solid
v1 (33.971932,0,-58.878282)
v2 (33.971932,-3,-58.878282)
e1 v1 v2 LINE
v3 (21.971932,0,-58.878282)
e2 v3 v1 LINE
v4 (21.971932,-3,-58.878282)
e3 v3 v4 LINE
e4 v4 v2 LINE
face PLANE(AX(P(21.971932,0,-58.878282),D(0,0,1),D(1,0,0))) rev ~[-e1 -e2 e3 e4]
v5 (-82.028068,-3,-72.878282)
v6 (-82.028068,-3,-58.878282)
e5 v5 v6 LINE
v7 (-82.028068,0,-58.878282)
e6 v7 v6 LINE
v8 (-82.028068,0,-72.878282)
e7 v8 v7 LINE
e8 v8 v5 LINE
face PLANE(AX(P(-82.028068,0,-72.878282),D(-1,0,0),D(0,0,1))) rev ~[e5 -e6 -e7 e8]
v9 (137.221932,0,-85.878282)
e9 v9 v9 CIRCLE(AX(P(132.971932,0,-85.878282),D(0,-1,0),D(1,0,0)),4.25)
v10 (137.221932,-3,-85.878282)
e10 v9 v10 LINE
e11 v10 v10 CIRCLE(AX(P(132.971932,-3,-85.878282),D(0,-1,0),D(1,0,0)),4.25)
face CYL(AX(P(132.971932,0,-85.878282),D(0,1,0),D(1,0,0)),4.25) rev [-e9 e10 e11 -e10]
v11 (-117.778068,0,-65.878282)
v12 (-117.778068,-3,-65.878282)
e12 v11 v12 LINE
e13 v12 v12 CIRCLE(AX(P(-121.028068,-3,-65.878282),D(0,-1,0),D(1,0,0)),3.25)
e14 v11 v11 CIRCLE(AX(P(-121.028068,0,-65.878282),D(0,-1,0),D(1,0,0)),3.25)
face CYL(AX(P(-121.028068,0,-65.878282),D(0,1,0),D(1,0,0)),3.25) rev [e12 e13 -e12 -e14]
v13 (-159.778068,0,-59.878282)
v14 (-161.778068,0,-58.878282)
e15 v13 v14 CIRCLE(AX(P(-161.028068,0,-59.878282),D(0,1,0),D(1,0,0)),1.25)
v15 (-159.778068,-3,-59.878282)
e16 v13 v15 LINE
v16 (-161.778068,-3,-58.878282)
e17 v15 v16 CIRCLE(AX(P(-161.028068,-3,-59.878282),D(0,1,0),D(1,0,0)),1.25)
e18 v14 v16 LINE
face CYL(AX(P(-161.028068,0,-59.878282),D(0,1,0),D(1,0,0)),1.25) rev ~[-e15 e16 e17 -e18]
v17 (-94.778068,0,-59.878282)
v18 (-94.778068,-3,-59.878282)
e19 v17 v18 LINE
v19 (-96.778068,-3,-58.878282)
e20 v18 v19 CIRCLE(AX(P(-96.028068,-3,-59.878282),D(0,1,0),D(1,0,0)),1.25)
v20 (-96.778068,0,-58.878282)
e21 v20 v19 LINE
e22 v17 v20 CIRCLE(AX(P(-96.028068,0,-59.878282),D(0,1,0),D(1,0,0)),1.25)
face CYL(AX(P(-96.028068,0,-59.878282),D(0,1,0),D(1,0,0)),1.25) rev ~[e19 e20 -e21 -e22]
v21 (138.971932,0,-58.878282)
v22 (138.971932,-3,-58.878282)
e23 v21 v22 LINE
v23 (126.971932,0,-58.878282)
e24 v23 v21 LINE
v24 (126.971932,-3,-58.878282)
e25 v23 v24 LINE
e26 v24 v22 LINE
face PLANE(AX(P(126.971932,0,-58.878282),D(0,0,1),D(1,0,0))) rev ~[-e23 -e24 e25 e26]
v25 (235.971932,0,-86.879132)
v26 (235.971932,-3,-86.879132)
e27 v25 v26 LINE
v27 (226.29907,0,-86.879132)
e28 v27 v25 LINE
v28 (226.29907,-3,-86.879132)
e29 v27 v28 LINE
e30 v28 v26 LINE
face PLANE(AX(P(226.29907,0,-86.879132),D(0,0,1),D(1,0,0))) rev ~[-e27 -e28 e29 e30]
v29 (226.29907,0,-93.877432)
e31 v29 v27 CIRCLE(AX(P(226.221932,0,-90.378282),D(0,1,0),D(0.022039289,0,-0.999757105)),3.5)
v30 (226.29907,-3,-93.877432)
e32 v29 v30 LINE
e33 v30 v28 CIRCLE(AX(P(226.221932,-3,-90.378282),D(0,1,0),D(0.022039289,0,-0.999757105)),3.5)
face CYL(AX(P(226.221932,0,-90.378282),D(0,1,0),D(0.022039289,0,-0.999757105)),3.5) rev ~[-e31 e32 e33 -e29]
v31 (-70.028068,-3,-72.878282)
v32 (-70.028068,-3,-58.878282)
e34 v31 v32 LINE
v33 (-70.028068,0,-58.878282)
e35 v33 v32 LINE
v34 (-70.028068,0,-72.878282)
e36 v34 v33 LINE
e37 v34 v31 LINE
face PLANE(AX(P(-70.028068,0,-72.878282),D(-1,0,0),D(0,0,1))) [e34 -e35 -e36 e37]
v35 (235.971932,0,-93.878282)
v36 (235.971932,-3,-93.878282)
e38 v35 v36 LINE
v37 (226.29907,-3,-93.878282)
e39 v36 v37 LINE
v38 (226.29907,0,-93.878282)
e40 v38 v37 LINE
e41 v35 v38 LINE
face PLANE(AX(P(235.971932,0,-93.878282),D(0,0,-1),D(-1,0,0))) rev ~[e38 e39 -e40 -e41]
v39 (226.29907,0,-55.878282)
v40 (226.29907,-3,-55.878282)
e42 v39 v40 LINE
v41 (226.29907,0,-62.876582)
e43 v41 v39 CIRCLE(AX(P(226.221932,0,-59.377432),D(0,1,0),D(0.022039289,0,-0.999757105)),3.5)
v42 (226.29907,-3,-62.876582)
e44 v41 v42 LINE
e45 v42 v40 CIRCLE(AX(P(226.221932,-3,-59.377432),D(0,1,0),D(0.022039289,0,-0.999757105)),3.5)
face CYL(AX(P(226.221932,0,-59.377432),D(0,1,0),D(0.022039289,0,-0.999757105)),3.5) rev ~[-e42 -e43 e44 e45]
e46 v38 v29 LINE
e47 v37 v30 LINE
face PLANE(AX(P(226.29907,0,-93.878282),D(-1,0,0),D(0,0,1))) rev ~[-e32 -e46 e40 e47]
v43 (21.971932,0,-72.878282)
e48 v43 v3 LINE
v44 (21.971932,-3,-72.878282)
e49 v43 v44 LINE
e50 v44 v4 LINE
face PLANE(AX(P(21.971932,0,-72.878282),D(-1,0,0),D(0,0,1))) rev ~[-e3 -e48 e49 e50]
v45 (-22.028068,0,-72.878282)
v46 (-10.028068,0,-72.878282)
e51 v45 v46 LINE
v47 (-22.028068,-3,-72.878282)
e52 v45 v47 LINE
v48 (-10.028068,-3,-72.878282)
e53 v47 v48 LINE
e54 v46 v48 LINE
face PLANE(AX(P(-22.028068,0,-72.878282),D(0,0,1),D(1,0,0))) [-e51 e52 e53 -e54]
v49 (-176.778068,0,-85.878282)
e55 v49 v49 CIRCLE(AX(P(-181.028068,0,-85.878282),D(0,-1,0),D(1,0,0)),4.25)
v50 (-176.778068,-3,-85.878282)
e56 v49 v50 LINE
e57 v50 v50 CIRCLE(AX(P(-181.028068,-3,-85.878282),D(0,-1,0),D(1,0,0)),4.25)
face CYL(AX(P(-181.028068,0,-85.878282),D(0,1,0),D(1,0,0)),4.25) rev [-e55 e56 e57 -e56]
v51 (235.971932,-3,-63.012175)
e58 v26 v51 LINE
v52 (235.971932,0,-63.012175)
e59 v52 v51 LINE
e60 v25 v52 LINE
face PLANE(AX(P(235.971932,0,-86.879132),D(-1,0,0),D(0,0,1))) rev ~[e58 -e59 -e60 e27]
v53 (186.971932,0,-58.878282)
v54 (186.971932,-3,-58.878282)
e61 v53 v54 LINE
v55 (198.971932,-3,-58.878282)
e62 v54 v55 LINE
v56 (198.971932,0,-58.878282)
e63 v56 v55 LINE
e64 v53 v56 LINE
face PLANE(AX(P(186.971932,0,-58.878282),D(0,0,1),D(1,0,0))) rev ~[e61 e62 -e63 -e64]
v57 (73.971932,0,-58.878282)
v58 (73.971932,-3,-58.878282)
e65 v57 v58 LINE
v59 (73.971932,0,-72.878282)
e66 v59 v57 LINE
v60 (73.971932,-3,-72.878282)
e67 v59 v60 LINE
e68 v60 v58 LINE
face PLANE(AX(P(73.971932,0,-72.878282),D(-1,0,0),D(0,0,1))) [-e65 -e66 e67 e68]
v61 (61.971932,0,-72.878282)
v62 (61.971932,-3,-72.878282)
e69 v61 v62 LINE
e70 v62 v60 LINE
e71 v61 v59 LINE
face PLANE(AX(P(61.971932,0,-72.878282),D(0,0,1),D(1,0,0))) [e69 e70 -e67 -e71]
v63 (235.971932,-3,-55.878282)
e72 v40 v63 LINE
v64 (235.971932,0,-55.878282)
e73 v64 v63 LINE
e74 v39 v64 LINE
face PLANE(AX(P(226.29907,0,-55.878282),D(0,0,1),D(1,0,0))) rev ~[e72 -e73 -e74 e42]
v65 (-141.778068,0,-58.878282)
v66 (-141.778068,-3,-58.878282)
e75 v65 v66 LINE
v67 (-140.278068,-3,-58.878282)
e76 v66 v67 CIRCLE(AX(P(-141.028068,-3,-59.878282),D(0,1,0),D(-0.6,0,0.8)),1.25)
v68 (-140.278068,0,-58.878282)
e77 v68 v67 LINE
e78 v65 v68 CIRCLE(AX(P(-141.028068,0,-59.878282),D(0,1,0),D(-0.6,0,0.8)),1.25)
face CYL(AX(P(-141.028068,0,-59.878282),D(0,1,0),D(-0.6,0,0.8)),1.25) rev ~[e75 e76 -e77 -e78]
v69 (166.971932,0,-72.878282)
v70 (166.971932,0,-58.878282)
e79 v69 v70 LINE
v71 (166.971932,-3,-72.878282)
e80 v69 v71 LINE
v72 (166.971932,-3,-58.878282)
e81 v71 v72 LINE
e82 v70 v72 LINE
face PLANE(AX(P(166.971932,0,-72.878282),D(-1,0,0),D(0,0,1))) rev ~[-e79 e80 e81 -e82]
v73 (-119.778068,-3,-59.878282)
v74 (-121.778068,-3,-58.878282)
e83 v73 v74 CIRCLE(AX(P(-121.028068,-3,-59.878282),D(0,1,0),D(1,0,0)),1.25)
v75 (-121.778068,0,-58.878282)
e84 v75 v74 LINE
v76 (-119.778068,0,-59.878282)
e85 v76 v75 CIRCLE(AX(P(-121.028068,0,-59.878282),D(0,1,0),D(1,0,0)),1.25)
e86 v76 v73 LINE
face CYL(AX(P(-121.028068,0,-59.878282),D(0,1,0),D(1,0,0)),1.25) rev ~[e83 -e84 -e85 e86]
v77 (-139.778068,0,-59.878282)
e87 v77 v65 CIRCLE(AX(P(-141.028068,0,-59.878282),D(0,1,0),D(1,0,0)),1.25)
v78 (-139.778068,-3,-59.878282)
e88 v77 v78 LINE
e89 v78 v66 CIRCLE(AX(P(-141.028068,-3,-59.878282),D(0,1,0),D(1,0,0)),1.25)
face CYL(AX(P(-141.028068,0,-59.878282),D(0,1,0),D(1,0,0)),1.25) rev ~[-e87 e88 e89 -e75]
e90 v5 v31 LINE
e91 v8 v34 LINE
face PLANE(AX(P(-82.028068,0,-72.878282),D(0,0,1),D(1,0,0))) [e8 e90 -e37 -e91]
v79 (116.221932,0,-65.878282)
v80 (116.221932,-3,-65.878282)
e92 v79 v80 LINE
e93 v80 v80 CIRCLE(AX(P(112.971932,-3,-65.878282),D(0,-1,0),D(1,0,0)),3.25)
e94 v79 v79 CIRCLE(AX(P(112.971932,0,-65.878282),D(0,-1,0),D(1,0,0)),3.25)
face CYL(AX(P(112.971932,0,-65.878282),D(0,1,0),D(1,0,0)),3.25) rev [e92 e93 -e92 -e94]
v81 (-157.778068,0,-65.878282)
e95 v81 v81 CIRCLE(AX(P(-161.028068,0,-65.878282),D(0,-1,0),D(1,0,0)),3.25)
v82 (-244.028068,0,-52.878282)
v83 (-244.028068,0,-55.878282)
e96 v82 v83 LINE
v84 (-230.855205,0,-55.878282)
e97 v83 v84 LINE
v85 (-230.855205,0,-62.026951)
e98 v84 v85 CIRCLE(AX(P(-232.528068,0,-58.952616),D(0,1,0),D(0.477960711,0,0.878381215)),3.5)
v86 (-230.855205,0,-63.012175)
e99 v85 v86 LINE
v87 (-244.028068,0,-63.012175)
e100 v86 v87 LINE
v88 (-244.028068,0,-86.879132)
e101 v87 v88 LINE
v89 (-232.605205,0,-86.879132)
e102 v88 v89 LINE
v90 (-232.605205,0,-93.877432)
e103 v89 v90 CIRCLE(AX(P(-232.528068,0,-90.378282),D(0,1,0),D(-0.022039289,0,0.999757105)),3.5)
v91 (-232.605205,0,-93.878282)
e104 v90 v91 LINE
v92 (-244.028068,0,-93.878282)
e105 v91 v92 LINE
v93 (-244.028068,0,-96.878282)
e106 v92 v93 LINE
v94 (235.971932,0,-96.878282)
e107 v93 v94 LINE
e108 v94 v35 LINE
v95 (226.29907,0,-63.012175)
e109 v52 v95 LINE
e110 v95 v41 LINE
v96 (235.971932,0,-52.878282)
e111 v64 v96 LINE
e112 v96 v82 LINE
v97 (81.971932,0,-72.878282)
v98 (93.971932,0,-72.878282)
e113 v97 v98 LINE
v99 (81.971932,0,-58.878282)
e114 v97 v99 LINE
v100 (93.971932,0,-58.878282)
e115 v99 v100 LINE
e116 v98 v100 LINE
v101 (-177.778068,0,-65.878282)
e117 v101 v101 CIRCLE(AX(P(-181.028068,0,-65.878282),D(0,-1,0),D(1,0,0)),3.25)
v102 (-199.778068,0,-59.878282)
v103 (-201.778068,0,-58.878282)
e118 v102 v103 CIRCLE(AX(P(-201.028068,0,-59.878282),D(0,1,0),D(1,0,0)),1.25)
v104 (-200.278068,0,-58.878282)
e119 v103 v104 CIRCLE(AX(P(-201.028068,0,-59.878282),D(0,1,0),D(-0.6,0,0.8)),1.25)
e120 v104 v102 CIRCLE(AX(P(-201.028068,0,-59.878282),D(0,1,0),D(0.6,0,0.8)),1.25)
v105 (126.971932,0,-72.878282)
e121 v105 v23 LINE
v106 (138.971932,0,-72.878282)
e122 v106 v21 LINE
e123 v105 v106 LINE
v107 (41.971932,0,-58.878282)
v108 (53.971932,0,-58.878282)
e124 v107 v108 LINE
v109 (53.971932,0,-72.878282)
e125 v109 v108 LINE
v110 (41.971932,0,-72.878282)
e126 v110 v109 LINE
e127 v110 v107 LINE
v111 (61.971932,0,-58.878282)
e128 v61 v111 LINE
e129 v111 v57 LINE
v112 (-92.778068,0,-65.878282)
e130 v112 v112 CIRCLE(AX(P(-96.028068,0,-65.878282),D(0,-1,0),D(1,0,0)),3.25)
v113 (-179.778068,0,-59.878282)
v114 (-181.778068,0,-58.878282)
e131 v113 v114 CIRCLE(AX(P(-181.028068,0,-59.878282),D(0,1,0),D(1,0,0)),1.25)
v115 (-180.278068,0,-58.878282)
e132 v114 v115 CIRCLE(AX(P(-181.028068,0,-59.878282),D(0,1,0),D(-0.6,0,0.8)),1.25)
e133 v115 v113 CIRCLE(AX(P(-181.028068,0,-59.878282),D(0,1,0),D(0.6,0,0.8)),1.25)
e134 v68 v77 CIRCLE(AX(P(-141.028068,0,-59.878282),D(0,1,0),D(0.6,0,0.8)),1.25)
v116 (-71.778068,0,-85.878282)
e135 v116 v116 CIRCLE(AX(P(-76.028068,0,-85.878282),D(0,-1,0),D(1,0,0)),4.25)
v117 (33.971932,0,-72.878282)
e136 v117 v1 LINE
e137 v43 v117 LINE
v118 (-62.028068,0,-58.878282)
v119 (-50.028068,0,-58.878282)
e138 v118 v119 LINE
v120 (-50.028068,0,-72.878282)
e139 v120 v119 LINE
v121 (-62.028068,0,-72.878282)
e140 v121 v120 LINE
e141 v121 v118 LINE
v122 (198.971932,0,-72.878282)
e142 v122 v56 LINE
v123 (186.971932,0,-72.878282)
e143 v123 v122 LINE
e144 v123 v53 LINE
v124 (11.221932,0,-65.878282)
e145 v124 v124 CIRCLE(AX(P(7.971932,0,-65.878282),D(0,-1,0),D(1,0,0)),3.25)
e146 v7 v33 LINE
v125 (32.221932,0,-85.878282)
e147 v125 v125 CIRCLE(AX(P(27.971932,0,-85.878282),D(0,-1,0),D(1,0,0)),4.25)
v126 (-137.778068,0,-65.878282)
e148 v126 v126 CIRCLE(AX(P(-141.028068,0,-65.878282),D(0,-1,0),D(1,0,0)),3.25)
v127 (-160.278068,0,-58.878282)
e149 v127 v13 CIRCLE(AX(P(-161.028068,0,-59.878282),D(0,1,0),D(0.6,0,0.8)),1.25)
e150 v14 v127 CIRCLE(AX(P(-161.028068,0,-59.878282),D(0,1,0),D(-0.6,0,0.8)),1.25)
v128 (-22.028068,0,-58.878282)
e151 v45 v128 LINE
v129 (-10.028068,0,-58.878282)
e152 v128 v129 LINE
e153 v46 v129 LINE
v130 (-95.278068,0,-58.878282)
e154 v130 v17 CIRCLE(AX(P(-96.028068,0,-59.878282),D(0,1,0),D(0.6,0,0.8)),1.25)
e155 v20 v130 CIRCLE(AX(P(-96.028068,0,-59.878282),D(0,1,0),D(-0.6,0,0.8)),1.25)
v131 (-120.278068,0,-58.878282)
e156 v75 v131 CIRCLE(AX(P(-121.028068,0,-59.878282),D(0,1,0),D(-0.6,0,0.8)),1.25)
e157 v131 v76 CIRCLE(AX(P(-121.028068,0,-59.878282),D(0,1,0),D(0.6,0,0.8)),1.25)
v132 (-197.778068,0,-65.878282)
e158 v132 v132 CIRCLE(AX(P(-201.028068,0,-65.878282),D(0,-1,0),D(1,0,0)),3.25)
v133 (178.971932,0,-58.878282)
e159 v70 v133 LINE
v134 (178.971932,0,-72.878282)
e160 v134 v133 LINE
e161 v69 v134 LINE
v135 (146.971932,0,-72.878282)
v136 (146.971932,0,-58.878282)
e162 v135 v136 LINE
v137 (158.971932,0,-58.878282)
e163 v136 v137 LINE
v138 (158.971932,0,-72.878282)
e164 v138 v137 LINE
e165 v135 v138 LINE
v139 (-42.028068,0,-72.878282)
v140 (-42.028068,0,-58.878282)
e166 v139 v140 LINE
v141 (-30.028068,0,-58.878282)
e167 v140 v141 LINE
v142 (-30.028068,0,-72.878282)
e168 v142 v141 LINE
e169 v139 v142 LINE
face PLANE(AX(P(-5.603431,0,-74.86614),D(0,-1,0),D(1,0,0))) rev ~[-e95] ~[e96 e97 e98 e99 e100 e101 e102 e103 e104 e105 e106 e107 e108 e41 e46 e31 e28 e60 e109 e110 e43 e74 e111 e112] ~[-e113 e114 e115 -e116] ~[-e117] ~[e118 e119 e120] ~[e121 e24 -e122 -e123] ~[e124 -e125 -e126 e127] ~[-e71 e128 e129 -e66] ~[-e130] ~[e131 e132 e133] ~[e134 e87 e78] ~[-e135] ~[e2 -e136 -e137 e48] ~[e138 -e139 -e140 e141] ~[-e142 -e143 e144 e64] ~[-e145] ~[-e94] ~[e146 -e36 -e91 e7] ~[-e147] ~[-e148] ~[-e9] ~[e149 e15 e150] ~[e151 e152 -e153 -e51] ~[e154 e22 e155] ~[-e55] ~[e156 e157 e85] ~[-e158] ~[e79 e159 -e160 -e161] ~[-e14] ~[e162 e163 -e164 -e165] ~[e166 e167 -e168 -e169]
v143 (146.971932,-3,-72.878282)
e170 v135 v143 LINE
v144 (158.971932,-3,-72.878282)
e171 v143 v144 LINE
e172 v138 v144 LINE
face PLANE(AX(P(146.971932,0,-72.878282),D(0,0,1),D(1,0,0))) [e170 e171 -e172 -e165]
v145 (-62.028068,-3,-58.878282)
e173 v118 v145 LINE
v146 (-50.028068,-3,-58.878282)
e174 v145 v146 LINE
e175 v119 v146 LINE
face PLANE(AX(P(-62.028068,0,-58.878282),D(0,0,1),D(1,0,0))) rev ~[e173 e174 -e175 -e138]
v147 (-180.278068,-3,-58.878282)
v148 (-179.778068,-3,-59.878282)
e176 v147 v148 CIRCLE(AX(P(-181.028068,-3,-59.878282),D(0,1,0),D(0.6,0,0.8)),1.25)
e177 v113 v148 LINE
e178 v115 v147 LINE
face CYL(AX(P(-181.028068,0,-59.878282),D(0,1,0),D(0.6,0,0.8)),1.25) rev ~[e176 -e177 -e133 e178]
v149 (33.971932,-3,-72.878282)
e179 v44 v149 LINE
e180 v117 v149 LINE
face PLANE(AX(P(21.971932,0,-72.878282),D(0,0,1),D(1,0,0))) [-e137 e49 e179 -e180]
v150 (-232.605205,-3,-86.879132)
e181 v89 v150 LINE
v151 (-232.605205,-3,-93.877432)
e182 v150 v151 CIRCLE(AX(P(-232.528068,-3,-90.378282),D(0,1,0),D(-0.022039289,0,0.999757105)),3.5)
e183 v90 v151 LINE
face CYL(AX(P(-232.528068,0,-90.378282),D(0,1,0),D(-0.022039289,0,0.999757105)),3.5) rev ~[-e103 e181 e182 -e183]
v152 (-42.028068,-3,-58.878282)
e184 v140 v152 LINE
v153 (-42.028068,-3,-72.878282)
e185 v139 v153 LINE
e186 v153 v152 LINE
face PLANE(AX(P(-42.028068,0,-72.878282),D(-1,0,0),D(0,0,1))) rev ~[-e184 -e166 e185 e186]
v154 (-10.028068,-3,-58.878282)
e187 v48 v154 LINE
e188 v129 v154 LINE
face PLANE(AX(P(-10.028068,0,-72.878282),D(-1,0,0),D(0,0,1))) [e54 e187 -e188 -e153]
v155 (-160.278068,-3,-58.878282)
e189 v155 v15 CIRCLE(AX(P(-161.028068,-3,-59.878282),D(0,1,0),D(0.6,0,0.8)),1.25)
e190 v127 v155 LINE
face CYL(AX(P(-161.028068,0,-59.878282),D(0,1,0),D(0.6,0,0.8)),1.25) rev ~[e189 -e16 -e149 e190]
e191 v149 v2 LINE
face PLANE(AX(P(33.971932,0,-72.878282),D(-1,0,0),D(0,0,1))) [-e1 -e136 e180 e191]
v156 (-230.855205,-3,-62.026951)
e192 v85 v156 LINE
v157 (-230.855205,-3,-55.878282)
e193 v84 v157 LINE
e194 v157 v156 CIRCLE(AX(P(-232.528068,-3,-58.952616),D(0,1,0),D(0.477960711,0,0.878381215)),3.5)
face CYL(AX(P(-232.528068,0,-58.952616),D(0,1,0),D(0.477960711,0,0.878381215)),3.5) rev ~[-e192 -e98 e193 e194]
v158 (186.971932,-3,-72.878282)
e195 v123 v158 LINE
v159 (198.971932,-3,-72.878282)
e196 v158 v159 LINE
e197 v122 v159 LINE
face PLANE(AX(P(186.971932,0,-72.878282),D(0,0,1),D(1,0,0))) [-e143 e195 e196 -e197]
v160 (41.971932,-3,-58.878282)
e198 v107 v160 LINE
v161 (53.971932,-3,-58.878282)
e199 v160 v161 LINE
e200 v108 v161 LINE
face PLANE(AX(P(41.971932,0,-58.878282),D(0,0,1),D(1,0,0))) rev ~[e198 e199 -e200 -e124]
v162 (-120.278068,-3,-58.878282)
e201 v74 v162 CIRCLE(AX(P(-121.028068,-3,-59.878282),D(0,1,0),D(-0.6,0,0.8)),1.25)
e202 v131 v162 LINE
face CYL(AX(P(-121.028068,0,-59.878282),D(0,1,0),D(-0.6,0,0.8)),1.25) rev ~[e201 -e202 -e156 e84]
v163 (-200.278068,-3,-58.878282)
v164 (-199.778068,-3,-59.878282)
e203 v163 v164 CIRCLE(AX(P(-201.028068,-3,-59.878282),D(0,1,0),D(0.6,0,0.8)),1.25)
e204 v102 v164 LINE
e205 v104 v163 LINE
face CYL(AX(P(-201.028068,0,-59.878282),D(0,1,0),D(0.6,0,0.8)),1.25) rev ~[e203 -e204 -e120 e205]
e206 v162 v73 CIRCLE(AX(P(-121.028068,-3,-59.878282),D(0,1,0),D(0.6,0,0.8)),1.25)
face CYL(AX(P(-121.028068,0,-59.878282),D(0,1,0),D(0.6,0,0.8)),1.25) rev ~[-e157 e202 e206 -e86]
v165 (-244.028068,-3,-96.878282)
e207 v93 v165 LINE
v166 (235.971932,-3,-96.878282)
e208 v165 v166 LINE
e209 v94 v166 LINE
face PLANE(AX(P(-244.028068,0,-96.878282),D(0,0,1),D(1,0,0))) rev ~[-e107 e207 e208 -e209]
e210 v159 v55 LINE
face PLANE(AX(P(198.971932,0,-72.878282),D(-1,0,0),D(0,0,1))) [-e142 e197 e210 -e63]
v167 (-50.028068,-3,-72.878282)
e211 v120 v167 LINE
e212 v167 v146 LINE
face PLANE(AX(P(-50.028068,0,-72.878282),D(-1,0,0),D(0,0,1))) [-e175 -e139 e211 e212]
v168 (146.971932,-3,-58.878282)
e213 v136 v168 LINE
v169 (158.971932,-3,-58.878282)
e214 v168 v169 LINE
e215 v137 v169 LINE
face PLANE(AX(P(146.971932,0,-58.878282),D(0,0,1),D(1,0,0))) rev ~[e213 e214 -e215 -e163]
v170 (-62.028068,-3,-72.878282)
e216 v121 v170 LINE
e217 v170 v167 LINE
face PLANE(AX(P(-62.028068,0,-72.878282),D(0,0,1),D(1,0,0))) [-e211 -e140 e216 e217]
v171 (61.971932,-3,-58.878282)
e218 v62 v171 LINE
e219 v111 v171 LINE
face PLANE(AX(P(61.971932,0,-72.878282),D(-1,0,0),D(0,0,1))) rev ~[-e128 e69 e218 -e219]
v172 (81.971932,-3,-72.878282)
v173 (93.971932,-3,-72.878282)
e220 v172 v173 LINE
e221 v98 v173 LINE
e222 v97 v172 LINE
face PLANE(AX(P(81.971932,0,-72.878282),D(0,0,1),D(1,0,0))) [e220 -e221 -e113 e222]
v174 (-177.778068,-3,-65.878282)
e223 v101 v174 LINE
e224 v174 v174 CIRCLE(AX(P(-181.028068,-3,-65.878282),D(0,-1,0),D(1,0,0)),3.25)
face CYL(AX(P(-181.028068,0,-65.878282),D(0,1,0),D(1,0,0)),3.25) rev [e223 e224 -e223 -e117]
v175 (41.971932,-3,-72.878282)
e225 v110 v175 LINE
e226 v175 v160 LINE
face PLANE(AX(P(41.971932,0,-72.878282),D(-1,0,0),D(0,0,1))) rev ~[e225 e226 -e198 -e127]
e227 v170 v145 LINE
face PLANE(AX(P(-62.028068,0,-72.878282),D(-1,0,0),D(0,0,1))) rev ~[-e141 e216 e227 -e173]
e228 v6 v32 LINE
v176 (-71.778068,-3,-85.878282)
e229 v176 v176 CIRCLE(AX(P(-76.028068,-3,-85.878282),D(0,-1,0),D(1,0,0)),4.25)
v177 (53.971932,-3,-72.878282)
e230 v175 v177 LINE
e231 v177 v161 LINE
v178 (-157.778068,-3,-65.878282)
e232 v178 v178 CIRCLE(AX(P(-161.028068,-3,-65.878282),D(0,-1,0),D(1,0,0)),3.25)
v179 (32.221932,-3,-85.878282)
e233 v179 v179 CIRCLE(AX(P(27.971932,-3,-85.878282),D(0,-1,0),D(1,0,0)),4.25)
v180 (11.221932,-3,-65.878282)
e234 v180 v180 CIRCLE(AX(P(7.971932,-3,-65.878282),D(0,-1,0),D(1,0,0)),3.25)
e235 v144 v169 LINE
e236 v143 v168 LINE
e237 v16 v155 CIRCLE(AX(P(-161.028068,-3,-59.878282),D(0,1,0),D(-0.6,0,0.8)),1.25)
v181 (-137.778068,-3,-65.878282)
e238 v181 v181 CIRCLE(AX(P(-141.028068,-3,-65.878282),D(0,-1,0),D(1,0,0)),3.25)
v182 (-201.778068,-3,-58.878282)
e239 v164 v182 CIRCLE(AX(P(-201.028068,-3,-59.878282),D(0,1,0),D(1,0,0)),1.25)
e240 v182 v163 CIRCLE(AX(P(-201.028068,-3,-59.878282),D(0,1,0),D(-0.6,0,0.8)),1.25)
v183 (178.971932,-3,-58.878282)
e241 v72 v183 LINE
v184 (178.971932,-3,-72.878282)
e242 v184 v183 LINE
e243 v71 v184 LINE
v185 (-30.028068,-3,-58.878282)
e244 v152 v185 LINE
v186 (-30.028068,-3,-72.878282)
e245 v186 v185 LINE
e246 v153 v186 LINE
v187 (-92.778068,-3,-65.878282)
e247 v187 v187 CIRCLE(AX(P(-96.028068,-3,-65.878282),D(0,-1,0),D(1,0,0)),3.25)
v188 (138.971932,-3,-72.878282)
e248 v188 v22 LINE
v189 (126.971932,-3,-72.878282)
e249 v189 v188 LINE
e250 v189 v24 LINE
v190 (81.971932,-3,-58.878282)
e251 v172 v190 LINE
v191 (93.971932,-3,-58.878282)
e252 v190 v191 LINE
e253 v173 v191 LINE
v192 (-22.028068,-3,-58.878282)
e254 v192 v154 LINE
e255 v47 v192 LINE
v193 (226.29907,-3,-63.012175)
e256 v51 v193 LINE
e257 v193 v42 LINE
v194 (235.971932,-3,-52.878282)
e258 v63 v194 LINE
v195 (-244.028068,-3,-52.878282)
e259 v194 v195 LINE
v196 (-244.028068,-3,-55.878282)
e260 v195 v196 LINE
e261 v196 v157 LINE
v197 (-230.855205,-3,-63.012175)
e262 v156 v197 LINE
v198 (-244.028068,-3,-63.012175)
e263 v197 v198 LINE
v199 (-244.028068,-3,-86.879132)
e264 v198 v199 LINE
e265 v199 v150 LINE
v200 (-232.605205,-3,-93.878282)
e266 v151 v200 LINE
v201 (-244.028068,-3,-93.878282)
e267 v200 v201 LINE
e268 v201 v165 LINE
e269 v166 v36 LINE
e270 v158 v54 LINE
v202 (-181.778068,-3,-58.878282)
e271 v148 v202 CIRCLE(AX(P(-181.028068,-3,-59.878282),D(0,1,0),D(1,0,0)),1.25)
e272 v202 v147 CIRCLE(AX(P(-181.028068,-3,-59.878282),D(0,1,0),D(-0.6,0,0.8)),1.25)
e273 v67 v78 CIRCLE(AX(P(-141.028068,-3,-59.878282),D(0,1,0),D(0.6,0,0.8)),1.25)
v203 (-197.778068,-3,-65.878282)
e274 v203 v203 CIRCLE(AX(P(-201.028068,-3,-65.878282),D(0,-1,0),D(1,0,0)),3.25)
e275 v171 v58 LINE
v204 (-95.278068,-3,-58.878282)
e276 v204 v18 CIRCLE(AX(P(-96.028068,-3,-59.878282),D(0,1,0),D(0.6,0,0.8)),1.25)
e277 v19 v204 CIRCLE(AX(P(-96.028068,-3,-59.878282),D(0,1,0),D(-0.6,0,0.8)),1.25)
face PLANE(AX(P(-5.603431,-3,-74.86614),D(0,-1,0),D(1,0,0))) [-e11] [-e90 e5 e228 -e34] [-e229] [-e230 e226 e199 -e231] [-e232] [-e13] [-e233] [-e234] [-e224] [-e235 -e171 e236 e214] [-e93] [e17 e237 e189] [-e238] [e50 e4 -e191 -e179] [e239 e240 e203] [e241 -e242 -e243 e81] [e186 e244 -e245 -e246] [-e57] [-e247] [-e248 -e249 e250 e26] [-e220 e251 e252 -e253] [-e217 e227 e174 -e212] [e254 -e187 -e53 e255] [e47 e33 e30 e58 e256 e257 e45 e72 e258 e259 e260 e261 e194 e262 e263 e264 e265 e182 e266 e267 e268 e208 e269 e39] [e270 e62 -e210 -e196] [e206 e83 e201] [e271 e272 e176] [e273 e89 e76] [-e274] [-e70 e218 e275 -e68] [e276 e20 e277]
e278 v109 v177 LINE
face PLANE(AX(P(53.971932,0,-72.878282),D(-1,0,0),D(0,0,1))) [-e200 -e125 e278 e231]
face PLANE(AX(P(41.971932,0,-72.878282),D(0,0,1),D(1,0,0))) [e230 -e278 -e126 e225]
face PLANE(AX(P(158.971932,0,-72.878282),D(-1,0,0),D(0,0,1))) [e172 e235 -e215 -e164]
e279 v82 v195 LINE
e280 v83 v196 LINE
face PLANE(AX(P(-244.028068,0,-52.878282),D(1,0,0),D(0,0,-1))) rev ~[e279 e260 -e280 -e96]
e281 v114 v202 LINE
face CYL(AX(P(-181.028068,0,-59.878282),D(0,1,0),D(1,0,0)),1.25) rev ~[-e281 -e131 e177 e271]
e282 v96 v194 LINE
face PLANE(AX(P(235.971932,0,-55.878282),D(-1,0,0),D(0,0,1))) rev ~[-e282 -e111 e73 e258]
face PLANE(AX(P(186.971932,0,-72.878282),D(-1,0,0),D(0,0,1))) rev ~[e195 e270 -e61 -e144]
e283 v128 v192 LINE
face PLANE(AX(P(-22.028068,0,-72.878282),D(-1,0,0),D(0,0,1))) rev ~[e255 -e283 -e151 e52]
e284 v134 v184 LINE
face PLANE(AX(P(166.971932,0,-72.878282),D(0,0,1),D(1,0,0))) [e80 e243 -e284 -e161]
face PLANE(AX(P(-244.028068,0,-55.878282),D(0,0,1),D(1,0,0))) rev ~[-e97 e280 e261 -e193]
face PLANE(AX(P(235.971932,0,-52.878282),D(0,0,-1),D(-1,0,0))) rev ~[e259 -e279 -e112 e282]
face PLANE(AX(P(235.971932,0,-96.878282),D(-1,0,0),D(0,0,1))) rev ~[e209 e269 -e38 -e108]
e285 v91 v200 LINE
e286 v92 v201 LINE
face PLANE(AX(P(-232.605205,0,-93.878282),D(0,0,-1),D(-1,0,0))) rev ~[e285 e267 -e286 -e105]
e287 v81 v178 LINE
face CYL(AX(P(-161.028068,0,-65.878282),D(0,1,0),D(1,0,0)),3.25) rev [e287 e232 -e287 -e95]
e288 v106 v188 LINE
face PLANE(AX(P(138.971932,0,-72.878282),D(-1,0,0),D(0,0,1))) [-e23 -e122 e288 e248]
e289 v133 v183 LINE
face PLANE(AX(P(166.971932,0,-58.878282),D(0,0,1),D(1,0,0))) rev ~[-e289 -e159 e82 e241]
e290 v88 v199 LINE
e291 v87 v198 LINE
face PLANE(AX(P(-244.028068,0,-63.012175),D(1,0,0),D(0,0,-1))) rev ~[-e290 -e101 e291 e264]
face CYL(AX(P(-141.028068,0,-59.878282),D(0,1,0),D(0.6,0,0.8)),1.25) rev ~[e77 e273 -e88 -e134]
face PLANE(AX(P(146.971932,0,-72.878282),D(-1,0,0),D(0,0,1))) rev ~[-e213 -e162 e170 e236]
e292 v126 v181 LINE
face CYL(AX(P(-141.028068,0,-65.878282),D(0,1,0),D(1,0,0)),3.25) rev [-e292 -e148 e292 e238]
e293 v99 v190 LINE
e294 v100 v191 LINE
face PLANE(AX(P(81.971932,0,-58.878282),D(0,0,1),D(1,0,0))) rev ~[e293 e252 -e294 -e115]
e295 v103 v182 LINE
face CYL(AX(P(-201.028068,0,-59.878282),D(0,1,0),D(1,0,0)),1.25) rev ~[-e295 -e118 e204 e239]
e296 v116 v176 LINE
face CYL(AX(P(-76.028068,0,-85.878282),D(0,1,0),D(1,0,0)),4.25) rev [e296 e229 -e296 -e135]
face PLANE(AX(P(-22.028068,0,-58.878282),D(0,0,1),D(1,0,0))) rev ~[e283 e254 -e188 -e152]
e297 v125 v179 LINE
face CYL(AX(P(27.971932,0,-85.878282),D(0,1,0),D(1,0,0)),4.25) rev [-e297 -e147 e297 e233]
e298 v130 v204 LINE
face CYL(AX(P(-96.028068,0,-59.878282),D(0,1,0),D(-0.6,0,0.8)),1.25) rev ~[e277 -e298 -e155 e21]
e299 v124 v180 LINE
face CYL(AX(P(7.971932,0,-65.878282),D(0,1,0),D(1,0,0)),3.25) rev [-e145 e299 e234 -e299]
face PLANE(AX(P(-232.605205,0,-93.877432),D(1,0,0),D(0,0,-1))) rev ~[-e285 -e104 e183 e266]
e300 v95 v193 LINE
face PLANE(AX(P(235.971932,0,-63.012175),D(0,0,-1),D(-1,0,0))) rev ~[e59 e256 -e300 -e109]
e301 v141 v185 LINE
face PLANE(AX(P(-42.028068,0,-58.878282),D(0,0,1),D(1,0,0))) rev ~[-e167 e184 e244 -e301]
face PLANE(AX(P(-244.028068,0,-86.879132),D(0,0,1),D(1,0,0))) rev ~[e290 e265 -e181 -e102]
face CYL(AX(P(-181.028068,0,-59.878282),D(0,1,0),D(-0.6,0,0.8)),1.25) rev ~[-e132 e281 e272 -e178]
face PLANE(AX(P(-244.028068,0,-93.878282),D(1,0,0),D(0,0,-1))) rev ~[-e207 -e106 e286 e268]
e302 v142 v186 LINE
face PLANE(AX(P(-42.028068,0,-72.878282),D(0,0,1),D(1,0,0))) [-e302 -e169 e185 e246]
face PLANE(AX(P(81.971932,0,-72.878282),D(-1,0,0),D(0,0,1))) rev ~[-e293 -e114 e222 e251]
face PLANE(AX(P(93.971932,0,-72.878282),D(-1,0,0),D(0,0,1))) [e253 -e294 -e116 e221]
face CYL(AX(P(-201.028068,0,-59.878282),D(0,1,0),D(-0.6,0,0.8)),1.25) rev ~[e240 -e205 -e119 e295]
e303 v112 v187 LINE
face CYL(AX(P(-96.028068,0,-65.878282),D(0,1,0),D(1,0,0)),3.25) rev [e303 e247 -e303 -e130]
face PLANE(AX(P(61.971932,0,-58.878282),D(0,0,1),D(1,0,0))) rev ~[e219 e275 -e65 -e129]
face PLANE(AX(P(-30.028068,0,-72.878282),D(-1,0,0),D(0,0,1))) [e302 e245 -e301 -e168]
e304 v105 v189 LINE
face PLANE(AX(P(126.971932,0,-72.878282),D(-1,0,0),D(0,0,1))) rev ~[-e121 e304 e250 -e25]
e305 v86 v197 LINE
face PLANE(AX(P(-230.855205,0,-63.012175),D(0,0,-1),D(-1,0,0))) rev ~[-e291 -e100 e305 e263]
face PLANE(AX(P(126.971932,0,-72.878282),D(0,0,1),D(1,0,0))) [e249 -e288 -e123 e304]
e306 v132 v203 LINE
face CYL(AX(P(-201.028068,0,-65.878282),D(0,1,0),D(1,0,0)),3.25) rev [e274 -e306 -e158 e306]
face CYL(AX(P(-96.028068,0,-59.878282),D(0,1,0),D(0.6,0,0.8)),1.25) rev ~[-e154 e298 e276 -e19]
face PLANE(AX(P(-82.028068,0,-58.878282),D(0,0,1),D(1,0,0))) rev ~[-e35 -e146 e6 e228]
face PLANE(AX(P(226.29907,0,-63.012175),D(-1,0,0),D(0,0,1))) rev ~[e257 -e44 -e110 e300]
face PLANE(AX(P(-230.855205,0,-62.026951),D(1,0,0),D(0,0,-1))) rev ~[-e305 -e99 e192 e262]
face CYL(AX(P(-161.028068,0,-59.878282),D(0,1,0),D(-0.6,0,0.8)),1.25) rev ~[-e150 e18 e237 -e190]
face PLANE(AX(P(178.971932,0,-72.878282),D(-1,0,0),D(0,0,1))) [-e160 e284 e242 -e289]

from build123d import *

# Parameters (mm, degrees)
F0_R     = 4.25
F0_W     = 12
F0_H     = 14
F0_R_2   = 3.25
F1_DEPTH = 3


with BuildPart() as f1:
    # F0 (on Front) → F1 (new body)
    with BuildSketch(Plane.XZ):
        with BuildLine():
            Line((235.9719324717, -52.8782820007), (-244.0280675283, -52.8782820007))
            Line((-244.0280675283, -52.8782820007), (-244.0280675283, -55.8782820007))
            Line((-244.0280675283, -55.8782820007), (-230.8552050385, -55.8782820007))
            ThreePointArc((-230.8552050385, -55.8782820007), (-229.0280675283, -58.9526162523), (-230.8552050385, -62.0269505038))
            Line((-230.8552050385, -62.0269505038), (-230.8552050385, -63.012175262))
            Line((-230.8552050385, -63.012175262), (-244.0280675283, -63.012175262))
            Line((-244.0280675283, -63.012175262), (-244.0280675283, -86.8791321319))
            Line((-244.0280675283, -86.8791321319), (-232.6052050385, -86.8791321319))
            ThreePointArc((-232.6052050385, -86.8791321319), (-229.0280675283, -90.3782820007), (-232.6052050385, -93.8774318695))
            Line((-232.6052050385, -93.8774318695), (-232.6052050385, -93.8782820007))
            Line((-232.6052050385, -93.8782820007), (-244.0280675283, -93.8782820007))
            Line((-244.0280675283, -93.8782820007), (-244.0280675283, -96.8782820007))
            Line((-244.0280675283, -96.8782820007), (235.9719324717, -96.8782820007))
            Line((235.9719324717, -96.8782820007), (235.9719324717, -93.8782820007))
            Line((235.9719324717, -93.8782820007), (226.299069982, -93.8782820007))
            Line((226.299069982, -93.8782820007), (226.299069982, -93.8774318695))
            ThreePointArc((226.299069982, -93.8774318695), (222.7219324717, -90.3782820007), (226.299069982, -86.8791321319))
            Line((226.299069982, -86.8791321319), (235.9719324717, -86.8791321319))
            Line((235.9719324717, -86.8791321319), (235.9719324717, -63.012175262))
            Line((235.9719324717, -63.012175262), (226.299069982, -63.012175262))
            Line((226.299069982, -63.012175262), (226.299069982, -62.8765817383))
            ThreePointArc((226.299069982, -62.8765817383), (222.7219324717, -59.3774318695), (226.299069982, -55.8782820007))
            Line((226.299069982, -55.8782820007), (235.9719324717, -55.8782820007))
            Line((235.9719324717, -55.8782820007), (235.9719324717, -52.8782820007))
        make_face()
        with Locations((-76.0280675283, -85.8782820007)):
            Circle(F0_R, mode=Mode.SUBTRACT)
        with Locations((-181.0280675283, -85.8782820007)):
            Circle(F0_R, mode=Mode.SUBTRACT)
        with Locations((27.9719324717, -85.8782820007)):
            Circle(F0_R, mode=Mode.SUBTRACT)
        with Locations((132.9719324717, -85.8782820007)):
            Circle(F0_R, mode=Mode.SUBTRACT)
        with BuildLine():
            Line((-207.0280675283, -72.8782820007), (-207.0280675283, -58.8782820007))
            Line((-207.0280675283, -58.8782820007), (-201.7780675283, -58.8782820007))
            ThreePointArc((-201.7780675283, -58.8782820007), (-201.0280675283, -58.6282820007), (-200.2780675283, -58.8782820007))
            Line((-200.2780675283, -58.8782820007), (-195.0280675283, -58.8782820007))
            Line((-195.0280675283, -58.8782820007), (-195.0280675283, -72.8782820007))
            Line((-195.0280675283, -72.8782820007), (-207.0280675283, -72.8782820007))
        make_face(mode=Mode.SUBTRACT)
        with BuildLine():
            Line((-187.0280675283, -72.8782820007), (-187.0280675283, -58.8782820007))
            Line((-187.0280675283, -58.8782820007), (-181.7780675283, -58.8782820007))
            ThreePointArc((-181.7780675283, -58.8782820007), (-181.0280675283, -58.6282820007), (-180.2780675283, -58.8782820007))
            Line((-180.2780675283, -58.8782820007), (-175.0280675283, -58.8782820007))
            Line((-175.0280675283, -58.8782820007), (-175.0280675283, -72.8782820007))
            Line((-175.0280675283, -72.8782820007), (-187.0280675283, -72.8782820007))
        make_face(mode=Mode.SUBTRACT)
        with BuildLine():
            Line((-167.0280675283, -72.8782820007), (-167.0280675283, -58.8782820007))
            Line((-167.0280675283, -58.8782820007), (-161.7780675283, -58.8782820007))
            ThreePointArc((-161.7780675283, -58.8782820007), (-161.0280675283, -58.6282820007), (-160.2780675283, -58.8782820007))
            Line((-160.2780675283, -58.8782820007), (-155.0280675283, -58.8782820007))
            Line((-155.0280675283, -58.8782820007), (-155.0280675283, -72.8782820007))
            Line((-155.0280675283, -72.8782820007), (-167.0280675283, -72.8782820007))
        make_face(mode=Mode.SUBTRACT)
        with BuildLine():
            Line((-147.0280675283, -72.8782820007), (-147.0280675283, -58.8782820007))
            Line((-147.0280675283, -58.8782820007), (-141.7780675283, -58.8782820007))
            ThreePointArc((-141.7780675283, -58.8782820007), (-141.0280675283, -58.6282820007), (-140.2780675283, -58.8782820007))
            Line((-140.2780675283, -58.8782820007), (-135.0280675283, -58.8782820007))
            Line((-135.0280675283, -58.8782820007), (-135.0280675283, -72.8782820007))
            Line((-135.0280675283, -72.8782820007), (-147.0280675283, -72.8782820007))
        make_face(mode=Mode.SUBTRACT)
        with BuildLine():
            Line((-127.0280675283, -72.8782820007), (-127.0280675283, -58.8782820007))
            Line((-127.0280675283, -58.8782820007), (-121.7780675283, -58.8782820007))
            ThreePointArc((-121.7780675283, -58.8782820007), (-121.0280675283, -58.6282820007), (-120.2780675283, -58.8782820007))
            Line((-120.2780675283, -58.8782820007), (-115.0280675283, -58.8782820007))
            Line((-115.0280675283, -58.8782820007), (-115.0280675283, -72.8782820007))
            Line((-115.0280675283, -72.8782820007), (-127.0280675283, -72.8782820007))
        make_face(mode=Mode.SUBTRACT)
        with BuildLine():
            Line((-102.0280675283, -72.8782820007), (-102.0280675283, -58.8782820007))
            Line((-102.0280675283, -58.8782820007), (-96.7780675283, -58.8782820007))
            ThreePointArc((-96.7780675283, -58.8782820007), (-96.0280675283, -58.6282820007), (-95.2780675283, -58.8782820007))
            Line((-95.2780675283, -58.8782820007), (-90.0280675283, -58.8782820007))
            Line((-90.0280675283, -58.8782820007), (-90.0280675283, -72.8782820007))
            Line((-90.0280675283, -72.8782820007), (-102.0280675283, -72.8782820007))
        make_face(mode=Mode.SUBTRACT)
        with Locations((-76.0280675283, -65.8782820007)):
            Rectangle(F0_W, F0_H, mode=Mode.SUBTRACT)
        with Locations((-56.0280675283, -65.8782820007)):
            Rectangle(F0_W, F0_H, mode=Mode.SUBTRACT)
        with Locations((-36.0280675283, -65.8782820007)):
            Rectangle(F0_W, F0_H, mode=Mode.SUBTRACT)
        with Locations((-16.0280675283, -65.8782820007)):
            Rectangle(F0_W, F0_H, mode=Mode.SUBTRACT)
        with Locations((7.9719324717, -65.8782820007)):
            Rectangle(F0_W, F0_H, mode=Mode.SUBTRACT)
        with Locations((27.9719324717, -65.8782820007)):
            Rectangle(F0_W, F0_H, mode=Mode.SUBTRACT)
        with Locations((47.9719324717, -65.8782820007)):
            Rectangle(F0_W, F0_H, mode=Mode.SUBTRACT)
        with Locations((67.9719324717, -65.8782820007)):
            Rectangle(F0_W, F0_H, mode=Mode.SUBTRACT)
        with Locations((87.9719324717, -65.8782820007)):
            Rectangle(F0_W, F0_H, mode=Mode.SUBTRACT)
        with Locations((112.9719324717, -65.8782820007)):
            Rectangle(F0_W, F0_H, mode=Mode.SUBTRACT)
        with Locations((132.9719324717, -65.8782820007)):
            Rectangle(F0_W, F0_H, mode=Mode.SUBTRACT)
        with Locations((152.9719324717, -65.8782820007)):
            Rectangle(F0_W, F0_H, mode=Mode.SUBTRACT)
        with Locations((172.9719324717, -65.8782820007)):
            Rectangle(F0_W, F0_H, mode=Mode.SUBTRACT)
        with Locations((192.9719324717, -65.8782820007)):
            Rectangle(F0_W, F0_H, mode=Mode.SUBTRACT)
        with BuildLine():
            Line((-201.7780675283, -58.8782820007), (-207.0280675283, -58.8782820007))
            Line((-207.0280675283, -58.8782820007), (-207.0280675283, -72.8782820007))
            Line((-207.0280675283, -72.8782820007), (-195.0280675283, -72.8782820007))
            Line((-195.0280675283, -72.8782820007), (-195.0280675283, -58.8782820007))
            Line((-195.0280675283, -58.8782820007), (-200.2780675283, -58.8782820007))
            ThreePointArc((-200.2780675283, -58.8782820007), (-199.9100335395, -59.3192650063), (-199.7780675283, -59.8782820007))
            ThreePointArc((-199.7780675283, -59.8782820007), (-201.5870845227, -60.9963159894), (-201.7780675283, -58.8782820007))
        make_face()
        with Locations((-201.0280675283, -65.8782820007)):
            Circle(F0_R_2, mode=Mode.SUBTRACT)
        with BuildLine():
            Line((-181.7780675283, -58.8782820007), (-187.0280675283, -58.8782820007))
            Line((-187.0280675283, -58.8782820007), (-187.0280675283, -72.8782820007))
            Line((-187.0280675283, -72.8782820007), (-175.0280675283, -72.8782820007))
            Line((-175.0280675283, -72.8782820007), (-175.0280675283, -58.8782820007))
            Line((-175.0280675283, -58.8782820007), (-180.2780675283, -58.8782820007))
            ThreePointArc((-180.2780675283, -58.8782820007), (-179.9100335395, -59.3192650063), (-179.7780675283, -59.8782820007))
            ThreePointArc((-179.7780675283, -59.8782820007), (-181.5870845227, -60.9963159894), (-181.7780675283, -58.8782820007))
        make_face()
        with Locations((-181.0280675283, -65.8782820007)):
            Circle(F0_R_2, mode=Mode.SUBTRACT)
        with BuildLine():
            Line((-121.7780675283, -58.8782820007), (-127.0280675283, -58.8782820007))
            Line((-127.0280675283, -58.8782820007), (-127.0280675283, -72.8782820007))
            Line((-127.0280675283, -72.8782820007), (-115.0280675283, -72.8782820007))
            Line((-115.0280675283, -72.8782820007), (-115.0280675283, -58.8782820007))
            Line((-115.0280675283, -58.8782820007), (-120.2780675283, -58.8782820007))
            ThreePointArc((-120.2780675283, -58.8782820007), (-119.9100335395, -59.3192650063), (-119.7780675283, -59.8782820007))
            ThreePointArc((-119.7780675283, -59.8782820007), (-121.5870845227, -60.9963159894), (-121.7780675283, -58.8782820007))
        make_face()
        with Locations((-121.0280675283, -65.8782820007)):
            Circle(F0_R_2, mode=Mode.SUBTRACT)
        with BuildLine():
            Line((-96.7780675283, -58.8782820007), (-102.0280675283, -58.8782820007))
            Line((-102.0280675283, -58.8782820007), (-102.0280675283, -72.8782820007))
            Line((-102.0280675283, -72.8782820007), (-90.0280675283, -72.8782820007))
            Line((-90.0280675283, -72.8782820007), (-90.0280675283, -58.8782820007))
            Line((-90.0280675283, -58.8782820007), (-95.2780675283, -58.8782820007))
            ThreePointArc((-95.2780675283, -58.8782820007), (-94.9100335395, -59.3192650063), (-94.7780675283, -59.8782820007))
            ThreePointArc((-94.7780675283, -59.8782820007), (-96.5870845227, -60.9963159894), (-96.7780675283, -58.8782820007))
        make_face()
        with Locations((-96.0280675283, -65.8782820007)):
            Circle(F0_R_2, mode=Mode.SUBTRACT)
        with Locations((7.9719324717, -65.8782820007)):
            Rectangle(F0_W, F0_H)
        with Locations((7.9719324717, -65.8782820007)):
            Circle(F0_R_2, mode=Mode.SUBTRACT)
        with Locations((112.9719324717, -65.8782820007)):
            Rectangle(F0_W, F0_H)
        with Locations((112.9719324717, -65.8782820007)):
            Circle(F0_R_2, mode=Mode.SUBTRACT)
        with BuildLine():
            Line((-161.7780675283, -58.8782820007), (-167.0280675283, -58.8782820007))
            Line((-167.0280675283, -58.8782820007), (-167.0280675283, -72.8782820007))
            Line((-167.0280675283, -72.8782820007), (-155.0280675283, -72.8782820007))
            Line((-155.0280675283, -72.8782820007), (-155.0280675283, -58.8782820007))
            Line((-155.0280675283, -58.8782820007), (-160.2780675283, -58.8782820007))
            ThreePointArc((-160.2780675283, -58.8782820007), (-159.9100335395, -59.3192650063), (-159.7780675283, -59.8782820007))
            ThreePointArc((-159.7780675283, -59.8782820007), (-161.5870845227, -60.9963159894), (-161.7780675283, -58.8782820007))
        make_face()
        with Locations((-161.0280675283, -65.8782820007)):
            Circle(F0_R_2, mode=Mode.SUBTRACT)
        with BuildLine():
            Line((-141.7780675283, -58.8782820007), (-147.0280675283, -58.8782820007))
            Line((-147.0280675283, -58.8782820007), (-147.0280675283, -72.8782820007))
            Line((-147.0280675283, -72.8782820007), (-135.0280675283, -72.8782820007))
            Line((-135.0280675283, -72.8782820007), (-135.0280675283, -58.8782820007))
            Line((-135.0280675283, -58.8782820007), (-140.2780675283, -58.8782820007))
            ThreePointArc((-140.2780675283, -58.8782820007), (-139.9100335395, -59.3192650063), (-139.7780675283, -59.8782820007))
            ThreePointArc((-139.7780675283, -59.8782820007), (-141.5870845227, -60.9963159894), (-141.7780675283, -58.8782820007))
        make_face()
        with Locations((-141.0280675283, -65.8782820007)):
            Circle(F0_R_2, mode=Mode.SUBTRACT)
    extrude(amount=F1_DEPTH)


solid = f1.part
